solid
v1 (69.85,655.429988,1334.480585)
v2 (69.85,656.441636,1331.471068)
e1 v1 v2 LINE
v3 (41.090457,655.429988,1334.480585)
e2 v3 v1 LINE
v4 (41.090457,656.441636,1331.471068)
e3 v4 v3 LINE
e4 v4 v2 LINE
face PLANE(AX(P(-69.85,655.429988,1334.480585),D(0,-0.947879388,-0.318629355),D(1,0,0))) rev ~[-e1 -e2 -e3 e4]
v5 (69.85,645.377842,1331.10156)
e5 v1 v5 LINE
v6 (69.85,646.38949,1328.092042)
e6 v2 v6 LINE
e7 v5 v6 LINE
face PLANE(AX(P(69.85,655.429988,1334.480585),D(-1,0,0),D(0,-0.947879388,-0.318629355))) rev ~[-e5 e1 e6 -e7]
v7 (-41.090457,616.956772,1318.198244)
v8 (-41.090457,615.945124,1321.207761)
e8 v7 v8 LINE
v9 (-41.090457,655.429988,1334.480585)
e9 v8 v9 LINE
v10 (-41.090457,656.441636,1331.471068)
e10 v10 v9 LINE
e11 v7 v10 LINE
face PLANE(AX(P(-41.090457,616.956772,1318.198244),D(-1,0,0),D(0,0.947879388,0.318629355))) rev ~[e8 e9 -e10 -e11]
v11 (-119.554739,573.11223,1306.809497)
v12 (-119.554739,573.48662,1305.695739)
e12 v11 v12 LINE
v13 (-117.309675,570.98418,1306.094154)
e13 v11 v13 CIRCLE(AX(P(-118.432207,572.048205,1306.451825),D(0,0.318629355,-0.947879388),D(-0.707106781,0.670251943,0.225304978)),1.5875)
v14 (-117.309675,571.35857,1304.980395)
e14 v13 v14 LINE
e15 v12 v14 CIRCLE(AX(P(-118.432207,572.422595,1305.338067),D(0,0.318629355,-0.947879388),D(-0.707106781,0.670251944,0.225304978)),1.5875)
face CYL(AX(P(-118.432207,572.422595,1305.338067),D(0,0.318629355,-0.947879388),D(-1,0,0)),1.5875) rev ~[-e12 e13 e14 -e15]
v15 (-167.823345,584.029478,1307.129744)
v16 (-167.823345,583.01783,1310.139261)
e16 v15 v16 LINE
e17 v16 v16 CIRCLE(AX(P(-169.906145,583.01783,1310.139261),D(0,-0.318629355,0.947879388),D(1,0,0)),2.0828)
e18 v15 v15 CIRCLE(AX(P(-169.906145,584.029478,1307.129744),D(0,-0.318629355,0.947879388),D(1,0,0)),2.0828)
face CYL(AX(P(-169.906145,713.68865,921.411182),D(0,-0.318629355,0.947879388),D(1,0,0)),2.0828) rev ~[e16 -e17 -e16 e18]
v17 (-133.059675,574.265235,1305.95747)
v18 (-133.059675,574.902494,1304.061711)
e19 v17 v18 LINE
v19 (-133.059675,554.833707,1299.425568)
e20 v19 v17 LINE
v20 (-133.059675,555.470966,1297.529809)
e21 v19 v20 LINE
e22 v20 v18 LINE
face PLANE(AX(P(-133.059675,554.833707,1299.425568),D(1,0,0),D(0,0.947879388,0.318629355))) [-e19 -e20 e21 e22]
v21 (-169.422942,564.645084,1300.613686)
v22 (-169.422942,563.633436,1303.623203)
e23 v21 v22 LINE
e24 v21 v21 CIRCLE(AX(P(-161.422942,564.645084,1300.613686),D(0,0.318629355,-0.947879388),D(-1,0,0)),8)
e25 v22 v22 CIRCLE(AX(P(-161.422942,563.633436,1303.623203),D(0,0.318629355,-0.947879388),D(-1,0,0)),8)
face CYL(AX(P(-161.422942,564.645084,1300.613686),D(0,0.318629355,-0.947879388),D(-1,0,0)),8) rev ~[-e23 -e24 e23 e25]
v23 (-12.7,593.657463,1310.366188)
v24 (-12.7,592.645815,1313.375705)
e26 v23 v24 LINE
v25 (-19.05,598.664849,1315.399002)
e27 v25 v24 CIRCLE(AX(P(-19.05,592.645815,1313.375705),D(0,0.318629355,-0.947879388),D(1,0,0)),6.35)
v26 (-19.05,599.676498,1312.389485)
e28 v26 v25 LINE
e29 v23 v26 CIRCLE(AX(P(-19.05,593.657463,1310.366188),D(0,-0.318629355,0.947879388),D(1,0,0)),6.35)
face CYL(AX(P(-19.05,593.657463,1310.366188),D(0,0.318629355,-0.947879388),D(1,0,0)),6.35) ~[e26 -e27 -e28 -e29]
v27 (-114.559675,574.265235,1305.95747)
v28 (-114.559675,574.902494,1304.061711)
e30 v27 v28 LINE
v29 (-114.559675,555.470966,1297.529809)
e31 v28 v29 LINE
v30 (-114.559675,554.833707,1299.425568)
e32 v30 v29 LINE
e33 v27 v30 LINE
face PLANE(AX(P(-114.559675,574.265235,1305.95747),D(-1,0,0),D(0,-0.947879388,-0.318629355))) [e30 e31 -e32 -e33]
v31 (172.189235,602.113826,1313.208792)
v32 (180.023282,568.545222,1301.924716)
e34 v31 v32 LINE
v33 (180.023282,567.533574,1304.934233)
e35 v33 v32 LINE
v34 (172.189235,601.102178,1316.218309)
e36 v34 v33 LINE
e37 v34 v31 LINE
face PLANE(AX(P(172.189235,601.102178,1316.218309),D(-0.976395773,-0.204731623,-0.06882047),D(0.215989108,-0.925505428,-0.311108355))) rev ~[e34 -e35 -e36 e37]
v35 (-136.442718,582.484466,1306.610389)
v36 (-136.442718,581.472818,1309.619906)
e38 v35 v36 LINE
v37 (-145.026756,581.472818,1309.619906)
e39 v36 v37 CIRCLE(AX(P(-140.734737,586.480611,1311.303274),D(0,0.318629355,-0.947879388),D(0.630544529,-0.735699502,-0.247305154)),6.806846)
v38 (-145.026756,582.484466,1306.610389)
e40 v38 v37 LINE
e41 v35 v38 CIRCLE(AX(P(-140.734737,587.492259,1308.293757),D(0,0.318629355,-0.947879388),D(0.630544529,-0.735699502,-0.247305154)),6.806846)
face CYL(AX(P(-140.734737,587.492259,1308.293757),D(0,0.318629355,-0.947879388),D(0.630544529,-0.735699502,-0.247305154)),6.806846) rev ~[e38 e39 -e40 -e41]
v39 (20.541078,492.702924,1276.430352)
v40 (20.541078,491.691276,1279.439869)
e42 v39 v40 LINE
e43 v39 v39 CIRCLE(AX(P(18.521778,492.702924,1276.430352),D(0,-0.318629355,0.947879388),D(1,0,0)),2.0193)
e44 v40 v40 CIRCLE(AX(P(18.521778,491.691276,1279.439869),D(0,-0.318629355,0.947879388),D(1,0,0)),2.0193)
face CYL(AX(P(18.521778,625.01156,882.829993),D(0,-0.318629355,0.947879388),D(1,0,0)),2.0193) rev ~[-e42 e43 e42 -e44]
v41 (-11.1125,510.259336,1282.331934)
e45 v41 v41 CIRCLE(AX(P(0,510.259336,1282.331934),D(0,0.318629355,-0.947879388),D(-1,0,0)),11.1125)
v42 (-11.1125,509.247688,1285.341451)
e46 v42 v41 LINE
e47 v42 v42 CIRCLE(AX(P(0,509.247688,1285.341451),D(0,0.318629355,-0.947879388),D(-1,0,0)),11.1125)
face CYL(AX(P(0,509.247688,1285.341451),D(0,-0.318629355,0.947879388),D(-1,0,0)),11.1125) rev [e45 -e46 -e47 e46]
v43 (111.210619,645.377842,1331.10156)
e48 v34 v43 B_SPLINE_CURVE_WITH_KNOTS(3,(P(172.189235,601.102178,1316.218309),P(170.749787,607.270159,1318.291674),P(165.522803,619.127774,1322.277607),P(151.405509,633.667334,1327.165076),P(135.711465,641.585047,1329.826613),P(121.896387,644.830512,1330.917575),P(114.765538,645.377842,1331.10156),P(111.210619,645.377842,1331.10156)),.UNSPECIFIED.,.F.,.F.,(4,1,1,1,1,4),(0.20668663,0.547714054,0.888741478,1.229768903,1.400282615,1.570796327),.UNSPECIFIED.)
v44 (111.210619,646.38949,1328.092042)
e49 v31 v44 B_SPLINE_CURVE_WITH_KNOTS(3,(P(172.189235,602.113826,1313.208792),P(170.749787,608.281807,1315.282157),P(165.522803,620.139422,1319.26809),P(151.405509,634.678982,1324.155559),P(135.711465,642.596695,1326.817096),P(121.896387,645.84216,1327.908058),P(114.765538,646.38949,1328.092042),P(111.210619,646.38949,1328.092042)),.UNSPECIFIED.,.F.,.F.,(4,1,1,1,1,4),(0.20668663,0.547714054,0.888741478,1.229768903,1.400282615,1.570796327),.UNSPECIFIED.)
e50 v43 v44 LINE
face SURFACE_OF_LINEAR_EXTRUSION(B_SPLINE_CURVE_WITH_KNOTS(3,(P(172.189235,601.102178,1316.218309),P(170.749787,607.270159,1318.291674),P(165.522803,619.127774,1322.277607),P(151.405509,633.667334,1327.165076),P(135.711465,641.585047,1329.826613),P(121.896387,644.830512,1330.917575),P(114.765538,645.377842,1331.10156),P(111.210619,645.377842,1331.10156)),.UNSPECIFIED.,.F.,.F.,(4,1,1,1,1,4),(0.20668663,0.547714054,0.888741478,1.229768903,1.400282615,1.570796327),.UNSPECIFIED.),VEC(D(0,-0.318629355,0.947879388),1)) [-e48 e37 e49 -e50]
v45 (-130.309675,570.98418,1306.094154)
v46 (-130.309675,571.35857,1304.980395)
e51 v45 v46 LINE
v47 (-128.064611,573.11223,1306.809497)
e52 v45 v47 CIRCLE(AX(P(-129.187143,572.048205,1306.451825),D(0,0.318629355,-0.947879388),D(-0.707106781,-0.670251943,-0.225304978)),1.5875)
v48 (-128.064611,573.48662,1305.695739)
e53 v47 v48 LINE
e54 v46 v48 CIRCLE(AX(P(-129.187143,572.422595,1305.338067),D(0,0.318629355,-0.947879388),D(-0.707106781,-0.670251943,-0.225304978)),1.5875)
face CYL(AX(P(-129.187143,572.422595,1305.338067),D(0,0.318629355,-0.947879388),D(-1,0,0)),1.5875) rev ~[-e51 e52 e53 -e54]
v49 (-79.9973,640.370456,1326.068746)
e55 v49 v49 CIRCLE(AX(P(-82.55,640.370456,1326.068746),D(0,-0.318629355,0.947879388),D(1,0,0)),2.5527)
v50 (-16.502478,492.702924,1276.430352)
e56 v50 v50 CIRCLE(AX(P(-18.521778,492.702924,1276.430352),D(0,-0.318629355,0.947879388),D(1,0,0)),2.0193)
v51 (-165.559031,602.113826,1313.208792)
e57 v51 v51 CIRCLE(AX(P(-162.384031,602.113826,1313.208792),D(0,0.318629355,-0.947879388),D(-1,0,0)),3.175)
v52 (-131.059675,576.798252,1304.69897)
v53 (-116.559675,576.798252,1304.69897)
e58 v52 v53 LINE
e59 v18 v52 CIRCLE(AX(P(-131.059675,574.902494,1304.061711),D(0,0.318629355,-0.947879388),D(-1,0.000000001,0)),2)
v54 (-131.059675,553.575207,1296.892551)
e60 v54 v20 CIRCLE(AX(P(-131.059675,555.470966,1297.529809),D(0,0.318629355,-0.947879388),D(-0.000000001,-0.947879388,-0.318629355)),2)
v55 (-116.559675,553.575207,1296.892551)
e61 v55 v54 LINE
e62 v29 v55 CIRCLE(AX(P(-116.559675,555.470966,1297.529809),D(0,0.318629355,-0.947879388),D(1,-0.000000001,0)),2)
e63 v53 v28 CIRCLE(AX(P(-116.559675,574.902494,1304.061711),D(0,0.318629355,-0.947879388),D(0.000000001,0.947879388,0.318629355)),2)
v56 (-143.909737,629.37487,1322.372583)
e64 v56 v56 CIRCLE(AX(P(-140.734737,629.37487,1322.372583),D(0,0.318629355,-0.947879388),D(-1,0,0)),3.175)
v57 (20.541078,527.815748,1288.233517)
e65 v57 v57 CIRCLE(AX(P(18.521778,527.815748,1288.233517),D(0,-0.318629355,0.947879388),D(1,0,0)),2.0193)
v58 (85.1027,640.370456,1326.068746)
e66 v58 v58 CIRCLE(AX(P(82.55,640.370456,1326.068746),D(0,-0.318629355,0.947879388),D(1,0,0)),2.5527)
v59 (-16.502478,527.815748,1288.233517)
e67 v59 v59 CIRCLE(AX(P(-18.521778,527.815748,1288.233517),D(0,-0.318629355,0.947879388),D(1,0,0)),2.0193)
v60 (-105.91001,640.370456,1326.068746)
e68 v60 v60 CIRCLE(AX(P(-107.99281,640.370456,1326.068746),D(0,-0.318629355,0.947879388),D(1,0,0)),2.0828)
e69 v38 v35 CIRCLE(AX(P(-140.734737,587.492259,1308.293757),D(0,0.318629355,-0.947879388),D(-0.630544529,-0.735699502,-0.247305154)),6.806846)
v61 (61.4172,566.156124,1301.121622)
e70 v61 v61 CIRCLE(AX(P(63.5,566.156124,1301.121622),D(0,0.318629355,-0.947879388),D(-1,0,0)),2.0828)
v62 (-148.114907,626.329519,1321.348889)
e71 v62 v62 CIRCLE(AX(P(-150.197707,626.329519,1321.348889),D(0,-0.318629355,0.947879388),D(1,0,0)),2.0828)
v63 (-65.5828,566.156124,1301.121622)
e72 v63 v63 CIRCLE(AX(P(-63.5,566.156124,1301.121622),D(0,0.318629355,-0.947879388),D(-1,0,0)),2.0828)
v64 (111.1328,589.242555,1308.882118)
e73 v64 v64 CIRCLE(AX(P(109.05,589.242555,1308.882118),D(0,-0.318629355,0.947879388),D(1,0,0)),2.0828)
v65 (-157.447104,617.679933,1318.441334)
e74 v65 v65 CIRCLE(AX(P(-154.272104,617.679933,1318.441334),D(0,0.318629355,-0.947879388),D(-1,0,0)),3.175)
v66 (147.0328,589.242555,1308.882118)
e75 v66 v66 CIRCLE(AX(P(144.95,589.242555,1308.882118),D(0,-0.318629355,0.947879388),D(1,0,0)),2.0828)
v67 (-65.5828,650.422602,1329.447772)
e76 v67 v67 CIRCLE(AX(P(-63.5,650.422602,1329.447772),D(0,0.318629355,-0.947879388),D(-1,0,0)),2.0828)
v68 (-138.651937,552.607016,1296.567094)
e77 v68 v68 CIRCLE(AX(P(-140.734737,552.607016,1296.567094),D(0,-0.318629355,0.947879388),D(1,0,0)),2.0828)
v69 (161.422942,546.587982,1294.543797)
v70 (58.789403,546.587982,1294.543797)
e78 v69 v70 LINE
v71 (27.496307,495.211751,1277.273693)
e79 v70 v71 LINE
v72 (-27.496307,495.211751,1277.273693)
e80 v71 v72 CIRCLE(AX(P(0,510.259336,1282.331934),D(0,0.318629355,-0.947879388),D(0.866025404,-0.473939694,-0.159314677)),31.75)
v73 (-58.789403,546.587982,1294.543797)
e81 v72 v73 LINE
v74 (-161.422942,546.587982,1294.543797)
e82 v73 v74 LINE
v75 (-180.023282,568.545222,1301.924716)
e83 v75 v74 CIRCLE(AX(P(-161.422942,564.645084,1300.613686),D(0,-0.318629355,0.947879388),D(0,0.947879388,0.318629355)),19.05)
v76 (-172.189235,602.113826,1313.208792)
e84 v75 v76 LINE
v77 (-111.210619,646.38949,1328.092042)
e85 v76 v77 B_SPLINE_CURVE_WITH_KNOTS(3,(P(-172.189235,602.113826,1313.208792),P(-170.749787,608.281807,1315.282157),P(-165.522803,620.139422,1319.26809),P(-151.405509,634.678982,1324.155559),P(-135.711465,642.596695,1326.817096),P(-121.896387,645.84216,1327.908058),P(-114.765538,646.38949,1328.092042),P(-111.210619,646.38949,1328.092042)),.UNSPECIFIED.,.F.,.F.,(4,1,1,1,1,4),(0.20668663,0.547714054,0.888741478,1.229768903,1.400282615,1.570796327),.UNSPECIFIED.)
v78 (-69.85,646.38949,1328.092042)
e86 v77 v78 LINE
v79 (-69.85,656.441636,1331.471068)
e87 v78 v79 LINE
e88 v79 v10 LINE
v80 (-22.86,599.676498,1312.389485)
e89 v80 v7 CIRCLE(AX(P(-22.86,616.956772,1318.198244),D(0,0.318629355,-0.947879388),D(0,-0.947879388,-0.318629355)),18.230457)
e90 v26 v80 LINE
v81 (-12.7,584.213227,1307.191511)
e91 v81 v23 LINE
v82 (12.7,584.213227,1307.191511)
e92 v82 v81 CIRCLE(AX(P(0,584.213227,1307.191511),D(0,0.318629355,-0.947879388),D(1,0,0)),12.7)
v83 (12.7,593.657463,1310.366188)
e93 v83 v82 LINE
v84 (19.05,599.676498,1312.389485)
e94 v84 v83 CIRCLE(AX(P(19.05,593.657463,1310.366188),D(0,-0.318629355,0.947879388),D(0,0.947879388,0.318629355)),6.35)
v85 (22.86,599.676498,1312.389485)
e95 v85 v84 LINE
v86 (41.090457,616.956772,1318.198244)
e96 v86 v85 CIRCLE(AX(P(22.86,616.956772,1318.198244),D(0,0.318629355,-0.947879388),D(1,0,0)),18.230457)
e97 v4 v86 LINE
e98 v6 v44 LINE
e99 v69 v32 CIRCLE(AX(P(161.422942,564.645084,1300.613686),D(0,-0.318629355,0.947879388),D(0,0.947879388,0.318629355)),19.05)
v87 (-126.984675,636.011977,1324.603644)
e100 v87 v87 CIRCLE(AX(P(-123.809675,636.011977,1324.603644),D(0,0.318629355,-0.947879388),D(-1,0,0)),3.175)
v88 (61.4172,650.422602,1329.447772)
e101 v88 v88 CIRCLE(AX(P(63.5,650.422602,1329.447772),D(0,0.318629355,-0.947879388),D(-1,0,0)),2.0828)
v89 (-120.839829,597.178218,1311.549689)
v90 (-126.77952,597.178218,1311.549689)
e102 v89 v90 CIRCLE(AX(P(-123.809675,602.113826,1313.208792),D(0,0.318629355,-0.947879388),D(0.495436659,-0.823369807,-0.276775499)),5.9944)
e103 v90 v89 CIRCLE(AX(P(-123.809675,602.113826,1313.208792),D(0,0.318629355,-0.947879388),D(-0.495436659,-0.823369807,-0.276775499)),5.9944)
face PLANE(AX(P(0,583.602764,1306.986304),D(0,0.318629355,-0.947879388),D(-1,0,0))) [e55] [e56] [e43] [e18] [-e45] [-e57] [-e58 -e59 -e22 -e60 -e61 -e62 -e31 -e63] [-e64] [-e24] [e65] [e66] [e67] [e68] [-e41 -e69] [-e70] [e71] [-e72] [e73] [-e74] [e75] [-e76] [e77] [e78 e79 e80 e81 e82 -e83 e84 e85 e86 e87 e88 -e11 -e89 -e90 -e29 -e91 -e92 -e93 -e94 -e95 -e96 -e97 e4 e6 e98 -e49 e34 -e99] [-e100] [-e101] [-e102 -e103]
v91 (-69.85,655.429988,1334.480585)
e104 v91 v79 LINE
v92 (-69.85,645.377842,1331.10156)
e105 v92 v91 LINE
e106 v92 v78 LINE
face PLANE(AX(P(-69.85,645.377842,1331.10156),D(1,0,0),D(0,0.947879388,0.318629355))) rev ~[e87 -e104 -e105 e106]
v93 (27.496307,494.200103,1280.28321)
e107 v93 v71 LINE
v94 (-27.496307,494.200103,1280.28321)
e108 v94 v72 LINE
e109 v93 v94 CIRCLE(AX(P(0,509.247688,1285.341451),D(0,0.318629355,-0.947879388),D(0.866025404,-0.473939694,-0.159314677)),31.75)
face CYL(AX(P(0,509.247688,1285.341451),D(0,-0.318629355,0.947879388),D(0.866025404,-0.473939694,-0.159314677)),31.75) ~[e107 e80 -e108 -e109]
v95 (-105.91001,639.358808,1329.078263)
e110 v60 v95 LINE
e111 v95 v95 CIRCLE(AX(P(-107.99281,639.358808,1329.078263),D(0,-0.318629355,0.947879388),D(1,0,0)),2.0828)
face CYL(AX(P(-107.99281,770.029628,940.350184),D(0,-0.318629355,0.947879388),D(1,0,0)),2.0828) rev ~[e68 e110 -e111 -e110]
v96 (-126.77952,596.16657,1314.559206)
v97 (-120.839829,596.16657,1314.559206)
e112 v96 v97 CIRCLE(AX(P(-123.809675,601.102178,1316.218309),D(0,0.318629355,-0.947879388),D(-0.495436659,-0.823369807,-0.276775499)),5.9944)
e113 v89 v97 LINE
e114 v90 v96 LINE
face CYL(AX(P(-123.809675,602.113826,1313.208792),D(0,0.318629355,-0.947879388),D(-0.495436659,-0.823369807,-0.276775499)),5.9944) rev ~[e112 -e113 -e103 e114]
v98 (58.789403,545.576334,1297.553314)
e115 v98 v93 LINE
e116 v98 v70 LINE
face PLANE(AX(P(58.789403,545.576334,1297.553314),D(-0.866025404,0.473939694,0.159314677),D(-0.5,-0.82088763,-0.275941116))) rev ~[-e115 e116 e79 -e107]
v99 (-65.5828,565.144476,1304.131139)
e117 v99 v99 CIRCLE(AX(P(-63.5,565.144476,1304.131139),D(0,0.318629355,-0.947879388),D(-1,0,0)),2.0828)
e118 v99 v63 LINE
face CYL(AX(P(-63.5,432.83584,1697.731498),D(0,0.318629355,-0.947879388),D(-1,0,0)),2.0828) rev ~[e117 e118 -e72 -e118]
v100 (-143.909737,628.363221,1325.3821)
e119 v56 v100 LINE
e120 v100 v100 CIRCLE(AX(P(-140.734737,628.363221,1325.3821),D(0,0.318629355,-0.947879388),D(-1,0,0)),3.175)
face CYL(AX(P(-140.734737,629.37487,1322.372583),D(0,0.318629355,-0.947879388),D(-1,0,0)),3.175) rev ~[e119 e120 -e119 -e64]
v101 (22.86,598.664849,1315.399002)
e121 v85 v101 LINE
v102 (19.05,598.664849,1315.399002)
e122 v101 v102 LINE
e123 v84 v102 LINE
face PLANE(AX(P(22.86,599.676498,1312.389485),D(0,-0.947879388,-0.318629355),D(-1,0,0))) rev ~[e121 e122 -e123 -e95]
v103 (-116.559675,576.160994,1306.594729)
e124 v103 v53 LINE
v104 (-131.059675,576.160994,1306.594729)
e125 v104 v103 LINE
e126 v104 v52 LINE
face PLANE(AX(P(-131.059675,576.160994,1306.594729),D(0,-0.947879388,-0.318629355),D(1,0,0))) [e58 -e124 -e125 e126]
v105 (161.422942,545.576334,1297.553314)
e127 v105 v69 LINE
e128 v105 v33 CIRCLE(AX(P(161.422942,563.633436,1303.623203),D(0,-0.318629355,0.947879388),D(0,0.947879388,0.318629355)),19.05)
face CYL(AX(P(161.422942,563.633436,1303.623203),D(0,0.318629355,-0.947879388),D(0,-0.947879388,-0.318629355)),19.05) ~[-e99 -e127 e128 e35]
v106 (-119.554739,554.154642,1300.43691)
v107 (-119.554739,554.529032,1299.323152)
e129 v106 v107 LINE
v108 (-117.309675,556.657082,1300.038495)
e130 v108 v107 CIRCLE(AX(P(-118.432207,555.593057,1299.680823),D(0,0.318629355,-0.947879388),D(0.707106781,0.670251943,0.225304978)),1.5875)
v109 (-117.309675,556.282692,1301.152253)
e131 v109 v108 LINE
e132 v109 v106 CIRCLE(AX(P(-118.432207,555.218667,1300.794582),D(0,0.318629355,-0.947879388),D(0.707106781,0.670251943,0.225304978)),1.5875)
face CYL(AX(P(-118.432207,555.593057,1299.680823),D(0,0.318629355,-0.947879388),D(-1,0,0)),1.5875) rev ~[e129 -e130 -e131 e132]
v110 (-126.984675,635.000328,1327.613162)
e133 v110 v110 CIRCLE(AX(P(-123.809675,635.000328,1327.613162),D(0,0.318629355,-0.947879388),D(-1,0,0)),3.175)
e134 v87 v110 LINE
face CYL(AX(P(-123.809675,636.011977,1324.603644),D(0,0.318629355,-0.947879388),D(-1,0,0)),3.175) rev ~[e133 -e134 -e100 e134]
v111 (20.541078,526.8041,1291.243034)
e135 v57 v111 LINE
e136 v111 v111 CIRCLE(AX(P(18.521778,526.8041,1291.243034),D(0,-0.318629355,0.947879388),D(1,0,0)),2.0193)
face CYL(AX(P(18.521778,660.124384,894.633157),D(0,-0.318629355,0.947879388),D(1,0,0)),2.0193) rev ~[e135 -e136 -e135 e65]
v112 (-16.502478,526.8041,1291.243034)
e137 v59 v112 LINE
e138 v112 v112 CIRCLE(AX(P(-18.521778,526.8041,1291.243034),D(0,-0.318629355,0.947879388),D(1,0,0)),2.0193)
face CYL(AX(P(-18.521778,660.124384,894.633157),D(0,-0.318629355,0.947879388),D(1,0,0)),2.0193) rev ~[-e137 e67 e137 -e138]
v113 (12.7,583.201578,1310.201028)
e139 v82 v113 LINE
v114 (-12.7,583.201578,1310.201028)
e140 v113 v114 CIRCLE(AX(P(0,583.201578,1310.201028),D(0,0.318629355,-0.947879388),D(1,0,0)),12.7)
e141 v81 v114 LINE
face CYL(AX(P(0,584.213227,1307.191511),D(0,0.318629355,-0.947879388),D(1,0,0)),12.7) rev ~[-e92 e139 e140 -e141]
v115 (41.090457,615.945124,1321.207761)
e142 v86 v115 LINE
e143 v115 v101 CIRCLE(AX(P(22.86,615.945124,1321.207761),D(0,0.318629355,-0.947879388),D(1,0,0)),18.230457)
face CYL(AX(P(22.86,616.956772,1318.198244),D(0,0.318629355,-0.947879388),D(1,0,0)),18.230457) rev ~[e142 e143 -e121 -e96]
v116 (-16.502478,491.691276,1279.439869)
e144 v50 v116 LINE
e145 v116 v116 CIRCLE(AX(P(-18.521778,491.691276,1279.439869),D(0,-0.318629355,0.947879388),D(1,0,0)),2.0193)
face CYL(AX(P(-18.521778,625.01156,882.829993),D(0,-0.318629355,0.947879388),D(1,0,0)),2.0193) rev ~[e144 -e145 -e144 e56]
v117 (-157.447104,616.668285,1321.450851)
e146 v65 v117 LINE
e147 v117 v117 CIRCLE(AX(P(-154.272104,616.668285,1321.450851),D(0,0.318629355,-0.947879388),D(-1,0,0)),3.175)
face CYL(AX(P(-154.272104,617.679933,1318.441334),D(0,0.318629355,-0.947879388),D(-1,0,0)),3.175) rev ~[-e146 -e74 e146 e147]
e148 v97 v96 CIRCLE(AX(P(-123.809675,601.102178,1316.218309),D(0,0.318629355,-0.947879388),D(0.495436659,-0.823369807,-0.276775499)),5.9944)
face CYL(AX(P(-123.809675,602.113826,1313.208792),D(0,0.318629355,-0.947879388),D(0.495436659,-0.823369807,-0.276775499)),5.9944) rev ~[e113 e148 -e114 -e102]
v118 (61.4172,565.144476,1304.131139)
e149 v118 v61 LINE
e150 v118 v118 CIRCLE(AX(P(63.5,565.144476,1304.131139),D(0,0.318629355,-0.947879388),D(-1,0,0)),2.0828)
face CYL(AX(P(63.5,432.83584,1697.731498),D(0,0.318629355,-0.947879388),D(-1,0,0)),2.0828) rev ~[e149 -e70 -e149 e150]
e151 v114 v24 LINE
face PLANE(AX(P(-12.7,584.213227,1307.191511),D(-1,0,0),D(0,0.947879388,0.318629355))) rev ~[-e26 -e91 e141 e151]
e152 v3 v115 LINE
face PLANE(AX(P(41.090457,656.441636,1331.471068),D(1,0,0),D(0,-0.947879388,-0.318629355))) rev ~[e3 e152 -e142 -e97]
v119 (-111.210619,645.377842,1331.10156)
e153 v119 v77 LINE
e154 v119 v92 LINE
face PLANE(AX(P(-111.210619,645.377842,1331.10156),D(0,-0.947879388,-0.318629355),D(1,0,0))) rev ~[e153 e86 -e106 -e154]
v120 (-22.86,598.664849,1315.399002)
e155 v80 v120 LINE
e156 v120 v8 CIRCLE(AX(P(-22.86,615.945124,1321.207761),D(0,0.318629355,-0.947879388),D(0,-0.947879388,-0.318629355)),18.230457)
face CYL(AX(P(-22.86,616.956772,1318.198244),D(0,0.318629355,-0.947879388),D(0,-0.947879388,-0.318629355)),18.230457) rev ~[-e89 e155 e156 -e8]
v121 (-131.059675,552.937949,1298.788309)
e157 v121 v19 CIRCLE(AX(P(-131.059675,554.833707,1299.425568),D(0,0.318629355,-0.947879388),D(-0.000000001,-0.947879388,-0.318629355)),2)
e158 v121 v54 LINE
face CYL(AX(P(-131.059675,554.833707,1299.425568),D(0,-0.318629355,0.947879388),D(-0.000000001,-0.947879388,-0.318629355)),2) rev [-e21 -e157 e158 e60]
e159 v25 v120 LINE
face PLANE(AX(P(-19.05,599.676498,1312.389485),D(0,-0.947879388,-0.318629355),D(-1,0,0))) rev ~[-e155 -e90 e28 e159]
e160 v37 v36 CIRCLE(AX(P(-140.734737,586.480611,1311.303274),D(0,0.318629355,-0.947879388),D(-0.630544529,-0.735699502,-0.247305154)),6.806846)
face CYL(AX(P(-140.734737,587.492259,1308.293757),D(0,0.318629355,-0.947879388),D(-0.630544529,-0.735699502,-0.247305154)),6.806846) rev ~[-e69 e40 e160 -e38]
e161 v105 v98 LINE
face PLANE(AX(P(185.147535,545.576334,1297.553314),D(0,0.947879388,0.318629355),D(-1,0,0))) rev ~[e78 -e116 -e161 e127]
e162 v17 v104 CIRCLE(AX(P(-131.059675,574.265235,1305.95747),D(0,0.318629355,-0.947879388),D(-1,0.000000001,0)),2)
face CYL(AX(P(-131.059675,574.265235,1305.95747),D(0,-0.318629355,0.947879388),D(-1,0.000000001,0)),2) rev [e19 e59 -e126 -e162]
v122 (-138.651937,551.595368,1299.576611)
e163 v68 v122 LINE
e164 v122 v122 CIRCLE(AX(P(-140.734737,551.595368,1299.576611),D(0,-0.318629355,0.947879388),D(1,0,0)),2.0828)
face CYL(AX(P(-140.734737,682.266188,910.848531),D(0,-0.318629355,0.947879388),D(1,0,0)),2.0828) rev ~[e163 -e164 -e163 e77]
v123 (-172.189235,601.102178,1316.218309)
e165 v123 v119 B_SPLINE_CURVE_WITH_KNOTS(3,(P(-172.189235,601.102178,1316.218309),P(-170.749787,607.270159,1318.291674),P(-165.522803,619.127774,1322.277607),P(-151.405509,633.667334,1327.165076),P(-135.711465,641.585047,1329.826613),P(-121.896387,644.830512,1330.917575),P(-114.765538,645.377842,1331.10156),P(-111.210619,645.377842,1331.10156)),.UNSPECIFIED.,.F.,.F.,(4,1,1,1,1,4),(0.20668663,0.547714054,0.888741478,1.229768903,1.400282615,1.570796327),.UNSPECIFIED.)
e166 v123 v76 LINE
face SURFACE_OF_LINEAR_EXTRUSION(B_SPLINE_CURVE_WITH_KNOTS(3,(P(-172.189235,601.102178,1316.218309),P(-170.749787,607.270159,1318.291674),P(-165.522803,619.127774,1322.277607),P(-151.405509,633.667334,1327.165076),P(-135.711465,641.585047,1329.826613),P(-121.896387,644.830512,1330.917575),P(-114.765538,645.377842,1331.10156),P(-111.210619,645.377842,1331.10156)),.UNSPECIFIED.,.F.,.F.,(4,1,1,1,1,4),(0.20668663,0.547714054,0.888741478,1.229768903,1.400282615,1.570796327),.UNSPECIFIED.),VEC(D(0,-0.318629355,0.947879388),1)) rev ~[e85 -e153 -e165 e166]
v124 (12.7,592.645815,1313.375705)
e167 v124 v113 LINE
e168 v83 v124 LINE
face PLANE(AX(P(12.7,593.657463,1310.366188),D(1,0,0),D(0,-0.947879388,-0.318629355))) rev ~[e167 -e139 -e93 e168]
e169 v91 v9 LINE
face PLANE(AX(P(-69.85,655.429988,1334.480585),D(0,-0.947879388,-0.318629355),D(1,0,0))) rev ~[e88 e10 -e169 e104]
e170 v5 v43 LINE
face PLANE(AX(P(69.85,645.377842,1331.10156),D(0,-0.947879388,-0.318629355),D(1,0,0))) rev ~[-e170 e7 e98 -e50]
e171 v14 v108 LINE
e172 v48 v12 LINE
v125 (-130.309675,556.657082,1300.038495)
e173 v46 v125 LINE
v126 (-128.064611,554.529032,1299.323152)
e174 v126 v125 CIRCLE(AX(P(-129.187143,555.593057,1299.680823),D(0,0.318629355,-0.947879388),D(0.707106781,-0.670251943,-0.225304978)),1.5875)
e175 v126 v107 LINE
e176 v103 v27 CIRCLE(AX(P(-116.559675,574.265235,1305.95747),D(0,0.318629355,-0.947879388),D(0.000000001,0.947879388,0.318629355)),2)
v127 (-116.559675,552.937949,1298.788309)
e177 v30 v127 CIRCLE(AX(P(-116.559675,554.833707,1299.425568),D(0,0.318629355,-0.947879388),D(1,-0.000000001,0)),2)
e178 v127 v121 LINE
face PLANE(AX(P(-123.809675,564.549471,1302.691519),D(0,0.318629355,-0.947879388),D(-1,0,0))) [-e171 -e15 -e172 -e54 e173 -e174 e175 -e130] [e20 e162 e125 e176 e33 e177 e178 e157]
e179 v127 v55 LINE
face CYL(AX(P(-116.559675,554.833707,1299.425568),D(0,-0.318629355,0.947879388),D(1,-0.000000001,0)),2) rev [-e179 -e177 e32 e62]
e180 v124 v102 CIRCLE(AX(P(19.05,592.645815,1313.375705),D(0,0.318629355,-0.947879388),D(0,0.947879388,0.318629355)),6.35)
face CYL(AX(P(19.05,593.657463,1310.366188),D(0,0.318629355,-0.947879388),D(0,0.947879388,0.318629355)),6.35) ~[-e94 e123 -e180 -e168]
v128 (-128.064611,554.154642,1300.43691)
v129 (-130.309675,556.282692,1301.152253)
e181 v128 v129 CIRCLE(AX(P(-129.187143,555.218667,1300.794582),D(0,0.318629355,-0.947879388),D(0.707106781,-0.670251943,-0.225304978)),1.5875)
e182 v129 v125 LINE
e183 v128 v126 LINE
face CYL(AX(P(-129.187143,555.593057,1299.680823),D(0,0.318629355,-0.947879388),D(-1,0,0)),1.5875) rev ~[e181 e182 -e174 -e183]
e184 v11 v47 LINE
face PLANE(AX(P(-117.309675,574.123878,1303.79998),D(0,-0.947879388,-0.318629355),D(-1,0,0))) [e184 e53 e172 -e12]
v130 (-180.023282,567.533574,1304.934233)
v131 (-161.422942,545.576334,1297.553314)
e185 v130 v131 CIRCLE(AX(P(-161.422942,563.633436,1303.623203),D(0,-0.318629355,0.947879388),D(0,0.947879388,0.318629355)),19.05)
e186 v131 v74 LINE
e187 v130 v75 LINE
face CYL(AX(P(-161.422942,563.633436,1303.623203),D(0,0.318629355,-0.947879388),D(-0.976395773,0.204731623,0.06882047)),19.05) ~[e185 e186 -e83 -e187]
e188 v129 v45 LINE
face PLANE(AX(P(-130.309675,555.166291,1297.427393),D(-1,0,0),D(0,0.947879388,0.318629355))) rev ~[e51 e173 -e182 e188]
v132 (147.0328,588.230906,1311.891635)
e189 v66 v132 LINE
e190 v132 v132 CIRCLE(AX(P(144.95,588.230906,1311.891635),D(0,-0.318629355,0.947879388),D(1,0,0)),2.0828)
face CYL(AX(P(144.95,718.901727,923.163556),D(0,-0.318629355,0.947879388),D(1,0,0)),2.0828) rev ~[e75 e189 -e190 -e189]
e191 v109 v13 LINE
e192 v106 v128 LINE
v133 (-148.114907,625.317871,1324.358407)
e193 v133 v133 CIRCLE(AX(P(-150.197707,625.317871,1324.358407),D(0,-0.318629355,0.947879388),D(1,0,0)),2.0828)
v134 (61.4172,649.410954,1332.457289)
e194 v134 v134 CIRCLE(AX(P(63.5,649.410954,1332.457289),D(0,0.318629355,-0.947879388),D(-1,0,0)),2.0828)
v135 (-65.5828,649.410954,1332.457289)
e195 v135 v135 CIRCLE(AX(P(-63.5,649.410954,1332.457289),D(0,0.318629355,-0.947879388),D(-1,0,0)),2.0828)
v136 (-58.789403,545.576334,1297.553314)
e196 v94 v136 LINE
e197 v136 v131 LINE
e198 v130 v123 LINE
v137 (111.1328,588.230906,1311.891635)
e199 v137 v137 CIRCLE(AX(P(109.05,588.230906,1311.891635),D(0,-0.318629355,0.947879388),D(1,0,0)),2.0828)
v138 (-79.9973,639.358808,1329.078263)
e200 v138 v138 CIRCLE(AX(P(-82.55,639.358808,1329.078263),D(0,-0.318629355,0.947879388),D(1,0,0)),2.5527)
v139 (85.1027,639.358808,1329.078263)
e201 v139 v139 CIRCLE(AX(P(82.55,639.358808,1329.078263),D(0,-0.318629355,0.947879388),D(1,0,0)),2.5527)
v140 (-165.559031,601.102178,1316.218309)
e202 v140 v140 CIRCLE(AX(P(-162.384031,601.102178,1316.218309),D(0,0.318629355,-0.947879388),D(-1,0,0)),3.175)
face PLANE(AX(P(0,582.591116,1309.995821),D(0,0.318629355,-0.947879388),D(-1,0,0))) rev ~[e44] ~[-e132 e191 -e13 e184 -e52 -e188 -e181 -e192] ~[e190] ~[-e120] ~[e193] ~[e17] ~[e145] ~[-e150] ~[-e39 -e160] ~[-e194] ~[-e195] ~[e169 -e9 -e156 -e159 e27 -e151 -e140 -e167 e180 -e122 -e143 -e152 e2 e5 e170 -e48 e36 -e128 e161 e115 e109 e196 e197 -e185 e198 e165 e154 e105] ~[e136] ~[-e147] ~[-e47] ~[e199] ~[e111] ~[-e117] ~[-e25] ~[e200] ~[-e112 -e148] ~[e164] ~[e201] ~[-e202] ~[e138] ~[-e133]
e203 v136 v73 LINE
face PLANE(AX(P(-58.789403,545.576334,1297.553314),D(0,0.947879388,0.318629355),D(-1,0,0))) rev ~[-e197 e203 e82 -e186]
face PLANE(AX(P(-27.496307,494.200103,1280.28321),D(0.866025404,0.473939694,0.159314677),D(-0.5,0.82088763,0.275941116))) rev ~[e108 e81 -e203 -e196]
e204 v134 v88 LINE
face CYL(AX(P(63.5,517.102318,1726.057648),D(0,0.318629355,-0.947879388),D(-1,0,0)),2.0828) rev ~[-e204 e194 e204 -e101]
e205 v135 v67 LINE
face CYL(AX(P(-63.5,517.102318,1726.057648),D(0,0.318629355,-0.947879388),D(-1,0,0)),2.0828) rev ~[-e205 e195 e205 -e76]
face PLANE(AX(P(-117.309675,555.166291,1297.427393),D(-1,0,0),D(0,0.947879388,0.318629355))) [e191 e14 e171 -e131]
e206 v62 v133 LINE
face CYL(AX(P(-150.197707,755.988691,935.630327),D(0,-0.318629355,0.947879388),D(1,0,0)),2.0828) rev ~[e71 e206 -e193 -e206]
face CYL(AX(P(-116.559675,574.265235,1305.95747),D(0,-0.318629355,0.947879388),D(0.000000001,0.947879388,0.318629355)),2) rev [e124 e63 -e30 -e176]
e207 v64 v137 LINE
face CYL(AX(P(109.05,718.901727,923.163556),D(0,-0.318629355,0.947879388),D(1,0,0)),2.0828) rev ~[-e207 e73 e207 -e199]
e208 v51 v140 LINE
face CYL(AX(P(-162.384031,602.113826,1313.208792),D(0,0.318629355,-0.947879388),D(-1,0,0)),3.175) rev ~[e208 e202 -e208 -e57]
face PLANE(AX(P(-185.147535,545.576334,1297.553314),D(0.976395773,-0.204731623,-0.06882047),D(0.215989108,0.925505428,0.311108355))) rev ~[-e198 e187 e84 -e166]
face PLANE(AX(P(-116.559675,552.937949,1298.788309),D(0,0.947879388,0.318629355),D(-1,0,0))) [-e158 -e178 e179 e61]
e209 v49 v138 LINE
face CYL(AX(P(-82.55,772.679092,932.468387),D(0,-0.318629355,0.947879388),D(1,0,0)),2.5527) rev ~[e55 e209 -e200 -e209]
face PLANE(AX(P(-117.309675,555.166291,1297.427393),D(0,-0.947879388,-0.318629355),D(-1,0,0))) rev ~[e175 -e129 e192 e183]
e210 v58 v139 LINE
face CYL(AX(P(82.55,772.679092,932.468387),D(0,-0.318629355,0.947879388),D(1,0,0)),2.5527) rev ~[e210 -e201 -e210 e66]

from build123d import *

# Parameters (mm, degrees)
SKETCH1_R               = 11.1125
BOSS_EXTRUDE1_DEPTH     = 3.175
F_1_4_20_TAPPED_HOLE1_D = 5.1054
F_10_32_TAPPED_HOLE1_D  = 4.0386
F_8_32_TAPPED_HOLE1_D   = 4.1656
CUT_EXTRUDE1_DEPTH      = 60.342176846
FILLET1_R               = 19.05
F_8_32_TAPPED_HOLE2_D   = 4.1656
F_10_32_TAPPED_HOLE2_D  = 4.1656
SKETCH14_R              = 3.175
SKETCH14_R_2            = 8
SKETCH14_W              = 13
SKETCH14_H              = 20
CUT_EXTRUDE2_DEPTH      = 57.167176846
CUT_EXTRUDE2_DEPTH_BACK = 60.342176846
CUT_EXTRUDE3_START      = -2
CUT_EXTRUDE3_DEPTH      = 2
SKETCH16_R              = 1.5875
CUT_EXTRUDE4_DEPTH      = 58.342176846


with BuildPart() as part:
    # Sketch1 → Boss-Extrude1 (new body)
    with BuildSketch(Plane(origin=(0, -336.500449063, 1001.043483969), x_dir=(-1, 0, 0), z_dir=(0, 0.318629355, -0.947879388))):
        with BuildLine():
            Line((-58.789402849, 930.579137137), (-27.49630657, 876.377904457))
            ThreePointArc((-27.49630657, 876.377904457), (0, 860.502904457), (27.49630657, 876.377904457))
            Line((27.49630657, 876.377904457), (58.789402849, 930.579137137))
            Line((58.789402849, 930.579137137), (185.147535405, 930.579137137))
            Line((185.147535405, 930.579137137), (172.189234839, 989.158155392))
            add(Edge.make_bspline(
                [(172.189234839, 989.158155392), (170.749787142, 995.665292074), (165.52280255, 1008.174916977), (151.405508558, 1023.513956793), (135.711465445, 1031.867037645), (121.896387082, 1035.290959713), (114.765538474, 1035.868385599), (111.210619201, 1035.868385599)],
                knots=[0.20668663, 0.20668663, 0.20668663, 0.20668663, 0.547714054, 0.888741478, 1.229768903, 1.400282615, 1.570796327, 1.570796327, 1.570796327, 1.570796327], degree=3))
            Line((111.210619201, 1035.868385599), (69.85, 1035.868385599))
            Line((69.85, 1035.868385599), (69.85, 1046.47326385))
            Line((69.85, 1046.47326385), (-69.85, 1046.47326385))
            Line((-69.85, 1046.47326385), (-69.85, 1035.868385599))
            Line((-69.85, 1035.868385599), (-111.210619201, 1035.868385599))
            add(Edge.make_bspline(
                [(-172.189234839, 989.158155392), (-170.749787142, 995.665292074), (-165.52280255, 1008.174916977), (-151.405508558, 1023.513956793), (-135.711465445, 1031.867037645), (-121.896387082, 1035.290959713), (-114.765538474, 1035.868385599), (-111.210619201, 1035.868385599)],
                knots=[0.20668663, 0.20668663, 0.20668663, 0.20668663, 0.547714054, 0.888741478, 1.229768903, 1.400282615, 1.570796327, 1.570796327, 1.570796327, 1.570796327], degree=3))
            Line((-172.189234839, 989.158155392), (-185.147535405, 930.579137137))
            Line((-185.147535405, 930.579137137), (-58.789402849, 930.579137137))
        make_face()
        with Locations((0, 892.252904457)):
            Circle(SKETCH1_R, mode=Mode.SUBTRACT)
    extrude(amount=BOSS_EXTRUDE1_DEPTH)

    # 1/4-20 Tapped Hole1 (through all)
    with Locations(Plane(origin=(0, -335.48880086, 998.033966912), x_dir=(-1, 0, 0), z_dir=(0, 0.318629355, -0.947879388))):
        with Locations((82.55, 1029.518385599), (-82.55, 1029.518385599)):
            Hole(F_1_4_20_TAPPED_HOLE1_D / 2)

    # #10-32 Tapped Hole1 (through all)
    with Locations(Plane(origin=(0, -335.48880086, 998.033966912), x_dir=(-1, 0, 0), z_dir=(0, 0.318629355, -0.947879388))):
        with Locations((-18.52177825, 873.731126207), (18.52177825, 873.731126207), (18.52177825, 910.774682707), (-18.52177825, 910.774682707)):
            Hole(F_10_32_TAPPED_HOLE1_D / 2)

    # #8-32 Tapped Hole1 (through all)
    with Locations(Plane(origin=(0, -336.500449063, 1001.043483969), x_dir=(1, 0, 0), z_dir=(0, -0.318629355, 0.947879388))):
        with Locations((63.5, 1040.12326385), (63.5, 951.22326385), (-63.5, 951.22326385), (-63.5, 1040.12326385)):
            Hole(F_8_32_TAPPED_HOLE1_D / 2)

    # Sketch8 → Cut-Extrude1 (cut, through all)
    with BuildSketch(Plane(origin=(0, -335.48880086, 998.033966912), x_dir=(-1, 0, 0), z_dir=(0, 0.318629355, -0.947879388))):
        with BuildLine():
            Line((-41.090457195, 1046.47326385), (-41.090457195, 1004.8172638))
            ThreePointArc((-41.090457195, 1004.8172638), (-35.750879913, 991.926383908), (-22.860000021, 986.586806626))
            Line((-22.860000021, 986.586806626), (-19.05, 986.586806627))
            ThreePointArc((-19.05, 986.586806627), (-14.55987194, 984.726934687), (-12.7, 980.236806627))
            Line((-12.7, 980.236806627), (-12.7, 970.27326385))
            ThreePointArc((-12.7, 970.27326385), (0, 957.57326385), (12.7, 970.27326385))
            Line((12.7, 970.27326385), (12.7, 980.236806629))
            ThreePointArc((12.7, 980.236806629), (14.559871939, 984.726934689), (19.05, 986.586806629))
            Line((19.05, 986.586806629), (22.860000023, 986.586806629))
            ThreePointArc((22.860000023, 986.586806629), (35.75087992, 991.926383918), (41.090457195, 1004.817263822))
            Line((41.090457195, 1004.817263822), (41.0904572, 1046.47326385))
            Line((41.0904572, 1046.47326385), (-41.090457195, 1046.47326385))
        make_face()
    extrude(amount=-CUT_EXTRUDE1_DEPTH, mode=Mode.SUBTRACT)

    # Fillet1
    fillet1_edges = [part.edges().sort_by_distance(p)[0] for p in [
        (-185.147535405, 546.082157979, 1296.048555754),
        (185.147535405, 546.082157979, 1296.048555754),
    ]]
    fillet(fillet1_edges, radius=FILLET1_R)

    # #8-32 Tapped Hole2 (through all)
    with Locations(Plane(origin=(0, -335.48880086, 998.033966912), x_dir=(-1, 0, 0), z_dir=(0, 0.318629355, -0.947879388))):
        with Locations((140.734737002, 936.929137137), (169.906145104, 970.079411683), (150.197707432, 1014.705385734), (107.992809601, 1029.518385599)):
            Hole(F_8_32_TAPPED_HOLE2_D / 2)

    # #10-32 Tapped Hole2 (through all)
    with Locations(Plane(origin=(0, -335.48880086, 998.033966912), x_dir=(-1, 0, 0), z_dir=(0, 0.318629355, -0.947879388))):
        with Locations((-109.05, 975.579137137), (-144.95, 975.579137137)):
            Hole(F_10_32_TAPPED_HOLE2_D / 2)

    # Sketch14 → Cut-Extrude2 (cut, two sides)
    with BuildSketch(Plane(origin=(0, -335.48880086, 998.033966912), x_dir=(-1, 0, 0), z_dir=(0, 0.318629355, -0.947879388))) as cut_extrude2_sk:
        with Locations((123.809674977, 1024.920248146)):
            Circle(SKETCH14_R)
        with Locations((140.734737002, 1017.918189485)):
            Circle(SKETCH14_R)
        with Locations((154.272103769, 1005.5801892)):
            Circle(SKETCH14_R)
        with Locations((162.384030522, 989.158155392)):
            Circle(SKETCH14_R)
        with Locations((161.422942212, 949.629137137)):
            Circle(SKETCH14_R_2)
        with Locations((123.809674977, 949.629137137)):
            Rectangle(SKETCH14_W, SKETCH14_H)
        with BuildLine():
            ThreePointArc((145.026756344, 968.449444325), (140.734737002, 980.539444325), (136.44271766, 968.449444325))
            ThreePointArc((136.44271766, 968.449444325), (140.734737002, 966.925752842), (145.026756344, 968.449444325))
        make_face()
        with BuildLine():
            ThreePointArc((126.779520488, 983.951155392), (123.809674977, 995.152555392), (120.839829466, 983.951155392))
            ThreePointArc((120.839829466, 983.951155392), (123.809674977, 983.163755392), (126.779520488, 983.951155392))
        make_face()
    extrude(amount=CUT_EXTRUDE2_DEPTH, mode=Mode.SUBTRACT)
    extrude(cut_extrude2_sk.sketch, amount=-CUT_EXTRUDE2_DEPTH_BACK, mode=Mode.SUBTRACT)

    # Sketch15 → Cut-Extrude3 (cut)
    with BuildSketch(Plane(origin=(0, -335.48880086, 998.033966912), x_dir=(-1, 0, 0), z_dir=(0, 0.318629355, -0.947879388)).offset(CUT_EXTRUDE3_START)):
        with BuildLine():
            Line((131.059674977, 962.450565709), (116.559674977, 962.450565709))
            ThreePointArc((116.559674977, 962.450565709), (115.145461415, 961.864779271), (114.559674977, 960.450565709))
            Line((114.559674977, 960.450565709), (114.559674977, 939.950565709))
            ThreePointArc((114.559674977, 939.950565709), (115.145461415, 938.536352147), (116.559674977, 937.950565709))
            Line((116.559674977, 937.950565709), (131.059674977, 937.950565709))
            ThreePointArc((131.059674977, 937.950565709), (132.473888539, 938.536352147), (133.059674977, 939.950565709))
            Line((133.059674977, 939.950565709), (133.059674977, 960.450565709))
            ThreePointArc((133.059674977, 960.450565709), (132.473888539, 961.864779271), (131.059674977, 962.450565709))
        make_face()
    extrude(amount=CUT_EXTRUDE3_DEPTH, mode=Mode.SUBTRACT)

    # Sketch16 → Cut-Extrude4 (cut, through all)
    with BuildSketch(Plane(origin=(0, -336.126059571, 999.929725688), x_dir=(-1, 0, 0), z_dir=(0, 0.318629355, -0.947879388))):
        with Locations((118.432206992, 958.506605122)):
            Circle(SKETCH16_R)
        with Locations((129.187142962, 958.506605122)):
            Circle(SKETCH16_R)
        with Locations((129.187142962, 940.751669153)):
            Circle(SKETCH16_R)
        with Locations((118.432206992, 940.751669153)):
            Circle(SKETCH16_R)
    extrude(amount=-CUT_EXTRUDE4_DEPTH, mode=Mode.SUBTRACT)


solid = part.part
